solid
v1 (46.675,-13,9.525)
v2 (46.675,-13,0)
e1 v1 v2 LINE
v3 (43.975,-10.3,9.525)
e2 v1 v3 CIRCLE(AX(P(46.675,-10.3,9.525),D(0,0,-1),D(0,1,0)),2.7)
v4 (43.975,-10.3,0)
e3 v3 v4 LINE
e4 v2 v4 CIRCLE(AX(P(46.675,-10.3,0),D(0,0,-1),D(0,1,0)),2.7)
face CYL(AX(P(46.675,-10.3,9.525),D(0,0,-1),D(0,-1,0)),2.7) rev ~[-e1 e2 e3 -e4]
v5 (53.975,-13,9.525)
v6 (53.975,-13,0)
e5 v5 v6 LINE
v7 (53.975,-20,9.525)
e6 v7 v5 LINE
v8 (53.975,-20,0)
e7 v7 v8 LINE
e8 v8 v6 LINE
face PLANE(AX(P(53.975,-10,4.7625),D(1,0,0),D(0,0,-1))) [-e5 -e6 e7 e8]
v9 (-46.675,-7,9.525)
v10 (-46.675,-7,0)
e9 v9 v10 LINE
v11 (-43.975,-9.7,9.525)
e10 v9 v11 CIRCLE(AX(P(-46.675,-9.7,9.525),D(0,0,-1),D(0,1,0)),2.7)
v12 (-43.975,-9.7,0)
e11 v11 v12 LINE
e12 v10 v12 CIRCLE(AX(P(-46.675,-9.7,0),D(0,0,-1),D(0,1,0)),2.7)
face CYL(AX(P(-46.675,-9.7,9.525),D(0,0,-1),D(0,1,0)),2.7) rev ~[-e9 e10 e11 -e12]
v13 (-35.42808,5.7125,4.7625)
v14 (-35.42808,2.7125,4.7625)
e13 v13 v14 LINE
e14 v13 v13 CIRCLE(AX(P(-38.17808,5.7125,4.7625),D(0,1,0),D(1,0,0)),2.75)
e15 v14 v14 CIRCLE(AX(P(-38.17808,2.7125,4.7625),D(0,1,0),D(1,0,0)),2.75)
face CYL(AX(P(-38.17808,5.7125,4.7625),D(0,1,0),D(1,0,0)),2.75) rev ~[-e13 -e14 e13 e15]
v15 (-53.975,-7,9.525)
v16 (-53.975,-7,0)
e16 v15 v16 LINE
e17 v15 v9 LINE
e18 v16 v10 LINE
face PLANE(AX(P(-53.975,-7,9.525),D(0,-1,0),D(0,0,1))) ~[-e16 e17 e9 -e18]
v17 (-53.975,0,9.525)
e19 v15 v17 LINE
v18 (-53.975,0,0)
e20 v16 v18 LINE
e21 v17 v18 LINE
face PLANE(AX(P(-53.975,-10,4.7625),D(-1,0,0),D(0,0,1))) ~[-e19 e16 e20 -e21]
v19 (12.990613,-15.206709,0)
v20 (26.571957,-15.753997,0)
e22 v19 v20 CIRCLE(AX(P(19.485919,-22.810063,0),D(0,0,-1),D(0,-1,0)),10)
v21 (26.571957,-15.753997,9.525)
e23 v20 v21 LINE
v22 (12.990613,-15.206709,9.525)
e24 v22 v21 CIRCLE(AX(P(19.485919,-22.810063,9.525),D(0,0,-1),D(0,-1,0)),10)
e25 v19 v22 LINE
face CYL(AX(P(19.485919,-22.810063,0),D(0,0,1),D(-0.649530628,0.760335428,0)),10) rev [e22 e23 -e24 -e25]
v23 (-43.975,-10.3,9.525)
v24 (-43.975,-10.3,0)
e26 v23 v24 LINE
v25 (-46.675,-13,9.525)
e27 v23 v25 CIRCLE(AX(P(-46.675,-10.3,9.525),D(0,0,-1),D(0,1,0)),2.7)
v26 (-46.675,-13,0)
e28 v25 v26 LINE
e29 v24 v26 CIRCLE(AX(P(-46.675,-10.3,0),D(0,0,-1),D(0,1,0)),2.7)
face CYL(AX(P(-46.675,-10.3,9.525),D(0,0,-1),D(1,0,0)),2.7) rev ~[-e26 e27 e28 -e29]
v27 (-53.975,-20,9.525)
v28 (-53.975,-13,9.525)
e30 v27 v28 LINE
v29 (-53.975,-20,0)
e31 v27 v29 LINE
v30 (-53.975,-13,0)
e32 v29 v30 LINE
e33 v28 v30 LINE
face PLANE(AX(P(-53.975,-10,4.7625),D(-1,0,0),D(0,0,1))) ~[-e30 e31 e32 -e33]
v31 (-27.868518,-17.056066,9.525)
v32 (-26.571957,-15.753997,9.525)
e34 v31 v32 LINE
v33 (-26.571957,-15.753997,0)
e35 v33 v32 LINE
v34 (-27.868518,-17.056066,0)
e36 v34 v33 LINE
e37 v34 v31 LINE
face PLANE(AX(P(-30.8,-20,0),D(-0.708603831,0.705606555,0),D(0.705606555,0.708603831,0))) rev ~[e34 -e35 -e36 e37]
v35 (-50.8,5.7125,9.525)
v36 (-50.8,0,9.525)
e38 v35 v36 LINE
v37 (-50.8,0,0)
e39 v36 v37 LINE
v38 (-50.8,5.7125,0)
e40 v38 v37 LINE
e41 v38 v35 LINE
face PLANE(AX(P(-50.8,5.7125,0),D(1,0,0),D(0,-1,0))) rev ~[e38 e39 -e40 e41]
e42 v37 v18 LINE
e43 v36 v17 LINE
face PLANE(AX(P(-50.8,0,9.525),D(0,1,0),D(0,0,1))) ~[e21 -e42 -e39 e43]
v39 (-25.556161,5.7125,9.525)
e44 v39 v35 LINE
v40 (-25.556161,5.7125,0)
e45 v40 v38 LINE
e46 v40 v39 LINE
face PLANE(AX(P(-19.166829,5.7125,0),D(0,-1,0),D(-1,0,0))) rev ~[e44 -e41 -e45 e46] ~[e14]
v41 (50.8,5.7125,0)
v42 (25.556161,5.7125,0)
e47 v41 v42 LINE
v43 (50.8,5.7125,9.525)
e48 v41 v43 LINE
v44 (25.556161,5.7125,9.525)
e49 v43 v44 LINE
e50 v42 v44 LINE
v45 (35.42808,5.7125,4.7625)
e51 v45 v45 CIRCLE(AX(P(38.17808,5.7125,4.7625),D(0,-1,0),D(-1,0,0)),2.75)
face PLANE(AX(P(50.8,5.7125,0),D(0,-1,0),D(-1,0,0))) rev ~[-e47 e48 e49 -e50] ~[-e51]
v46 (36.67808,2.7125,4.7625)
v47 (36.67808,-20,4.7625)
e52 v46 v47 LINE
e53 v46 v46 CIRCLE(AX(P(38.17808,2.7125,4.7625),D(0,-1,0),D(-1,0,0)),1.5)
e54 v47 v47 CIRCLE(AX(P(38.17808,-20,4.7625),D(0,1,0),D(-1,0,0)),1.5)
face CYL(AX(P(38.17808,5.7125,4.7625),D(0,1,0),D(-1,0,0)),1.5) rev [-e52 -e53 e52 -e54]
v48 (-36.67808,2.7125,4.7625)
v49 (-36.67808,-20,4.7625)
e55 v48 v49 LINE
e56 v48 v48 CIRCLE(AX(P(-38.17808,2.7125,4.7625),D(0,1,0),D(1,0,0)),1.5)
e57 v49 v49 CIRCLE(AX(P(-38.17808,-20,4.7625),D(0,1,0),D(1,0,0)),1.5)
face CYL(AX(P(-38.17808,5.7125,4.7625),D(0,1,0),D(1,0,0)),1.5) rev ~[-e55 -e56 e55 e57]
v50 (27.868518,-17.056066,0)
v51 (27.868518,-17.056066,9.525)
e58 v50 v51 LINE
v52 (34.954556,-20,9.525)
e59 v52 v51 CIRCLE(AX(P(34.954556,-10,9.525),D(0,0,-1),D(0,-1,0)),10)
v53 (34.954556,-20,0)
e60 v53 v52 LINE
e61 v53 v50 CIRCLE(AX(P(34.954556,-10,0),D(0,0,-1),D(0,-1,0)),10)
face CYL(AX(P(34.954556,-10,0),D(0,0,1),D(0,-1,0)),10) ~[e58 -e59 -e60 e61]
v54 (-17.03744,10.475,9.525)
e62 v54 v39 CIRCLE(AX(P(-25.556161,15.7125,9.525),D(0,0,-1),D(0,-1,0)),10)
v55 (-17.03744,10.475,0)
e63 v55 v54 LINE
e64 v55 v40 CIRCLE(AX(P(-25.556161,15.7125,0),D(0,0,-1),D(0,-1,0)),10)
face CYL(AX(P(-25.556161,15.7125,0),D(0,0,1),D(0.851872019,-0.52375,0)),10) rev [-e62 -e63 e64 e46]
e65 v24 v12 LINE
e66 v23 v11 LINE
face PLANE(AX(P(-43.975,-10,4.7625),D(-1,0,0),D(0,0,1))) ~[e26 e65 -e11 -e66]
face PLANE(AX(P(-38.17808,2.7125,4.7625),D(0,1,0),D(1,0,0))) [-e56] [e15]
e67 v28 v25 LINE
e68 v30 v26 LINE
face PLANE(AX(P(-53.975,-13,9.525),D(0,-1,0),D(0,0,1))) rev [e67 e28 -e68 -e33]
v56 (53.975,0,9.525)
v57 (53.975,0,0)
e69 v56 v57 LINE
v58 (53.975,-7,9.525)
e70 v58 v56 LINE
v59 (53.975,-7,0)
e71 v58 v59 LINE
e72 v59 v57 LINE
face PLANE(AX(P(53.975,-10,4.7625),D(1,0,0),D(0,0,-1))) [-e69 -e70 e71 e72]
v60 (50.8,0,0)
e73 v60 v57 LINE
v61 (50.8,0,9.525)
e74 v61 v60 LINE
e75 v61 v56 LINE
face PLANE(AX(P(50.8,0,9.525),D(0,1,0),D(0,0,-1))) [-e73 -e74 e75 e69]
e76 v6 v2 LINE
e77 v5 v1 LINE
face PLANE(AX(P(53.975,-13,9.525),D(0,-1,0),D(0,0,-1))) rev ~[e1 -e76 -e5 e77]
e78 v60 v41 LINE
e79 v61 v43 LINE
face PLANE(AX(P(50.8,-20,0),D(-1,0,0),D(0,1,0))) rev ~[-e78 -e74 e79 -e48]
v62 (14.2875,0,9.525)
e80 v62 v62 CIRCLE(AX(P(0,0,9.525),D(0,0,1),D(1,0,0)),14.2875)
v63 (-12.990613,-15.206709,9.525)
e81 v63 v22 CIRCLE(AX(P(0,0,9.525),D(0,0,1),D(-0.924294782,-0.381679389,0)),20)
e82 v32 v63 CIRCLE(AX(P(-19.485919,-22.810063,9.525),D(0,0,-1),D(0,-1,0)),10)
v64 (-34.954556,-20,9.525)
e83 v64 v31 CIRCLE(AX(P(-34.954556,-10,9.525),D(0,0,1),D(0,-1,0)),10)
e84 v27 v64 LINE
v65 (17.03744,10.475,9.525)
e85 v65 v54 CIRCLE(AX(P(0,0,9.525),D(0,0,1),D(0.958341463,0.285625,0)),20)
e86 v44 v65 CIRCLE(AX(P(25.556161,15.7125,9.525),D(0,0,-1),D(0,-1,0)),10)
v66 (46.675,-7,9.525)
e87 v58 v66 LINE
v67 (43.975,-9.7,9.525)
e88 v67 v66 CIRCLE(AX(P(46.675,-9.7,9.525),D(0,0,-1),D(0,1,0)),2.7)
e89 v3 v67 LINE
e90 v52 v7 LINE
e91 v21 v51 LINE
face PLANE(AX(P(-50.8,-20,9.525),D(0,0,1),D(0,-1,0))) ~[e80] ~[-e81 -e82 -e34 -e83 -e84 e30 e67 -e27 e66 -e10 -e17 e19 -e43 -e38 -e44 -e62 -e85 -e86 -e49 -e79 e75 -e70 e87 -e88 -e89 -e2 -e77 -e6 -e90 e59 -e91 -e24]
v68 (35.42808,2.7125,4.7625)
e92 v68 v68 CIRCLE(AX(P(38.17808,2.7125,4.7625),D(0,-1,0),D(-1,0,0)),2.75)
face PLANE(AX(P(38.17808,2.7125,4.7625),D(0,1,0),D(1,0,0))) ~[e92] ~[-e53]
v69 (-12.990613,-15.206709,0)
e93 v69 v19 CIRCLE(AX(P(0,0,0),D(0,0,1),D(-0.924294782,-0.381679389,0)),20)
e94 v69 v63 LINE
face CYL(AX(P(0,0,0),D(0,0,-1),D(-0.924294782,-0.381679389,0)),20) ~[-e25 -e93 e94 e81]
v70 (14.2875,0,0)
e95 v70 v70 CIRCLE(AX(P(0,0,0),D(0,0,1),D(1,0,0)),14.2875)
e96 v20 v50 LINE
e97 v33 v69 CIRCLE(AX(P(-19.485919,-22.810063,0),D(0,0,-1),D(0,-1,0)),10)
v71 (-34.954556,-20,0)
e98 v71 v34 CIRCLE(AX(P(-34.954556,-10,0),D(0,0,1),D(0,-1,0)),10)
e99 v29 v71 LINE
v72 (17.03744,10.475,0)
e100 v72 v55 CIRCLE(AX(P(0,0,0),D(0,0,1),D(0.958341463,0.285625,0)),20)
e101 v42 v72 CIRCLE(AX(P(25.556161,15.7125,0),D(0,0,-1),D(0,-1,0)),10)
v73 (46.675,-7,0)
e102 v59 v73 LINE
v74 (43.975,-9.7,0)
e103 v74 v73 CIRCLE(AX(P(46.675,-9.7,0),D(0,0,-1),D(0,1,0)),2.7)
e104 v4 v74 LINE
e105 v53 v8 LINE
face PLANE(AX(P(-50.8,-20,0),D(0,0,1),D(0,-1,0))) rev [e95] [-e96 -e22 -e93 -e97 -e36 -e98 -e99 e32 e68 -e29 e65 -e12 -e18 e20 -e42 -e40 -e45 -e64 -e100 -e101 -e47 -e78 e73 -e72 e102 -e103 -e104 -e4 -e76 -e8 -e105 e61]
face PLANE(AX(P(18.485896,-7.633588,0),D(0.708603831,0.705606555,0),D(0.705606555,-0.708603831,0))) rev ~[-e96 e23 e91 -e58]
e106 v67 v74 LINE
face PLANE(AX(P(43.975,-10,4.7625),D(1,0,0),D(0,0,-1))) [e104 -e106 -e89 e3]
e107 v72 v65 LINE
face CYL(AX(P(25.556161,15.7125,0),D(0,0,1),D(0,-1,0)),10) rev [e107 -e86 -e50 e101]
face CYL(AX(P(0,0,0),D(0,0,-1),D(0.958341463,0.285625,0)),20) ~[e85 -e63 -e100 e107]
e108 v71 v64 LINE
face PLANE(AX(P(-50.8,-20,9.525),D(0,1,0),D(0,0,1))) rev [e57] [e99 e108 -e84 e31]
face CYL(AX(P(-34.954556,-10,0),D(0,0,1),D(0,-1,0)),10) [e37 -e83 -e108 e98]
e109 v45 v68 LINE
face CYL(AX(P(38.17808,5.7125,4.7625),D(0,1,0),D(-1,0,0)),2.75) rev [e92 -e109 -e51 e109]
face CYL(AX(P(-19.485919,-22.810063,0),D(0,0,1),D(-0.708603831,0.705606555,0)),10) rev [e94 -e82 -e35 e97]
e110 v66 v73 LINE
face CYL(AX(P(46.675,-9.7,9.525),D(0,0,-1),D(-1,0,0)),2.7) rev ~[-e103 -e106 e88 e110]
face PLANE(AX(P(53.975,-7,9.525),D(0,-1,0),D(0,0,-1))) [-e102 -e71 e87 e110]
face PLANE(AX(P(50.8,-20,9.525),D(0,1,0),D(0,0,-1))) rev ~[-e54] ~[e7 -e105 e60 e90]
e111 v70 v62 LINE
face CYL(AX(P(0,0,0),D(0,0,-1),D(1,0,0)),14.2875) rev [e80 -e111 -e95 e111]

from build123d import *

# Parameters (mm, degrees)
SKETCH1_R           = 14.2875
BOSS_EXTRUDE1_DEPTH = 9.525
SKETCH2_W           = 9.525
SKETCH2_H           = 20
BOSS_EXTRUDE3_DEPTH = 3.175
FILLET1_R           = 10
FILLET2_R           = 10
SKETCH3_R           = 2.75
SKETCH3_R_2         = 1.5
CUT_EXTRUDE1_DEPTH  = 3
SKETCH3_4_R         = 1.5
CUT_EXTRUDE2_DEPTH  = 61.54055588
SKETCH4_W           = 9.525
SKETCH4_H           = 6
CUT_EXTRUDE3_DEPTH  = 10
FILLET3_R           = 2.7


with BuildPart() as part:
    # Sketch1 → Boss-Extrude1 (new body)
    with BuildSketch(Plane.XY):
        with BuildLine():
            Line((50.8, -20), (50.8, 5.7125))
            Line((50.8, 5.7125), (19.166829257, 5.7125))
            ThreePointArc((19.166829257, 5.7125), (0, 20), (-19.166829257, 5.7125))
            Line((-19.166829257, 5.7125), (-50.8, 5.7125))
            Line((-50.8, 5.7125), (-50.8, -20))
            Line((-50.8, -20), (-30.8, -20))
            Line((-30.8, -20), (-18.485895637, -7.633587786))
            ThreePointArc((-18.485895637, -7.633587786), (0, -20), (18.485895637, -7.633587786))
            Line((18.485895637, -7.633587786), (30.8, -20))
            Line((30.8, -20), (50.8, -20))
        make_face()
        Circle(SKETCH1_R, mode=Mode.SUBTRACT)
    extrude(amount=BOSS_EXTRUDE1_DEPTH)

    # Sketch2 → Boss-Extrude3 (add)
    with BuildSketch(Plane(origin=(50.8, 0, 0), x_dir=(0, 0, -1), z_dir=(1, 0, 0))):
        with Locations((-4.7625, -10)):
            Rectangle(SKETCH2_W, SKETCH2_H)
    boss_extrude3 = extrude(amount=BOSS_EXTRUDE3_DEPTH)

    # Mirror1: Boss-Extrude3 across plane
    add(boss_extrude3.mirror(Plane(origin=(0, 0, 0), x_dir=(0, 0, 1), z_dir=(1, 0, 0))))

    # Fillet1
    fillet1_edges = [part.edges().sort_by_distance(p)[0] for p in [
        (-19.166829257, 5.7125, 4.7625),
        (19.166829257, 5.7125, 4.7625),
        (18.485895637, -7.633587786, 4.7625),
        (-18.485895637, -7.633587786, 4.7625),
    ]]
    fillet(fillet1_edges, radius=FILLET1_R)

    # Fillet2
    fillet2_edges = [part.edges().sort_by_distance(p)[0] for p in [
        (-30.8, -20, 4.7625),
        (30.8, -20, 4.7625),
    ]]
    fillet(fillet2_edges, radius=FILLET2_R)

    # Sketch3 → Cut-Extrude1 (cut)
    with BuildSketch(Plane(origin=(0, 5.7125, 0), x_dir=(1, 0, 0), z_dir=(0, 1, 0))):
        with Locations((-38.178080292, -4.7625)):
            Circle(SKETCH3_R)
        with Locations((-38.178080292, -4.7625)):
            Circle(SKETCH3_R_2, mode=Mode.SUBTRACT)
    cut_extrude1 = extrude(amount=-CUT_EXTRUDE1_DEPTH, mode=Mode.SUBTRACT)

    # Sketch3<4> → Cut-Extrude2 (cut, through all)
    with BuildSketch(Plane(origin=(0, 5.7125, 0), x_dir=(1, 0, 0), z_dir=(0, 1, 0))):
        with Locations((-38.178080292, -4.7625)):
            Circle(SKETCH3_4_R)
    cut_extrude2 = extrude(amount=-CUT_EXTRUDE2_DEPTH, mode=Mode.SUBTRACT)

    # Mirror2: Cut-Extrude1, Cut-Extrude2 across plane
    add(cut_extrude1.mirror(Plane(origin=(0, 0, 0), x_dir=(0, 0, 1), z_dir=(1, 0, 0))), mode=Mode.SUBTRACT)
    add(cut_extrude2.mirror(Plane(origin=(0, 0, 0), x_dir=(0, 0, 1), z_dir=(1, 0, 0))), mode=Mode.SUBTRACT)

    # Sketch4 → Cut-Extrude3 (cut)
    with BuildSketch(Plane(origin=(53.975, 0, 0), x_dir=(0, 0, -1), z_dir=(1, 0, 0))):
        with Locations((-4.7625, -10)):
            Rectangle(SKETCH4_W, SKETCH4_H)
    cut_extrude3 = extrude(amount=-CUT_EXTRUDE3_DEPTH, mode=Mode.SUBTRACT)

    # Mirror3: Cut-Extrude3 across plane
    add(cut_extrude3.mirror(Plane(origin=(0, 0, 0), x_dir=(0, 0, 1), z_dir=(1, 0, 0))), mode=Mode.SUBTRACT)

    # Fillet3
    fillet3_edges = [part.edges().sort_by_distance(p)[0] for p in [
        (43.975, -13, 4.7625),
        (43.975, -7, 4.7625),
        (-43.975, -13, 4.7625),
        (-43.975, -7, 4.7625),
    ]]
    fillet(fillet3_edges, radius=FILLET3_R)


solid = part.part
